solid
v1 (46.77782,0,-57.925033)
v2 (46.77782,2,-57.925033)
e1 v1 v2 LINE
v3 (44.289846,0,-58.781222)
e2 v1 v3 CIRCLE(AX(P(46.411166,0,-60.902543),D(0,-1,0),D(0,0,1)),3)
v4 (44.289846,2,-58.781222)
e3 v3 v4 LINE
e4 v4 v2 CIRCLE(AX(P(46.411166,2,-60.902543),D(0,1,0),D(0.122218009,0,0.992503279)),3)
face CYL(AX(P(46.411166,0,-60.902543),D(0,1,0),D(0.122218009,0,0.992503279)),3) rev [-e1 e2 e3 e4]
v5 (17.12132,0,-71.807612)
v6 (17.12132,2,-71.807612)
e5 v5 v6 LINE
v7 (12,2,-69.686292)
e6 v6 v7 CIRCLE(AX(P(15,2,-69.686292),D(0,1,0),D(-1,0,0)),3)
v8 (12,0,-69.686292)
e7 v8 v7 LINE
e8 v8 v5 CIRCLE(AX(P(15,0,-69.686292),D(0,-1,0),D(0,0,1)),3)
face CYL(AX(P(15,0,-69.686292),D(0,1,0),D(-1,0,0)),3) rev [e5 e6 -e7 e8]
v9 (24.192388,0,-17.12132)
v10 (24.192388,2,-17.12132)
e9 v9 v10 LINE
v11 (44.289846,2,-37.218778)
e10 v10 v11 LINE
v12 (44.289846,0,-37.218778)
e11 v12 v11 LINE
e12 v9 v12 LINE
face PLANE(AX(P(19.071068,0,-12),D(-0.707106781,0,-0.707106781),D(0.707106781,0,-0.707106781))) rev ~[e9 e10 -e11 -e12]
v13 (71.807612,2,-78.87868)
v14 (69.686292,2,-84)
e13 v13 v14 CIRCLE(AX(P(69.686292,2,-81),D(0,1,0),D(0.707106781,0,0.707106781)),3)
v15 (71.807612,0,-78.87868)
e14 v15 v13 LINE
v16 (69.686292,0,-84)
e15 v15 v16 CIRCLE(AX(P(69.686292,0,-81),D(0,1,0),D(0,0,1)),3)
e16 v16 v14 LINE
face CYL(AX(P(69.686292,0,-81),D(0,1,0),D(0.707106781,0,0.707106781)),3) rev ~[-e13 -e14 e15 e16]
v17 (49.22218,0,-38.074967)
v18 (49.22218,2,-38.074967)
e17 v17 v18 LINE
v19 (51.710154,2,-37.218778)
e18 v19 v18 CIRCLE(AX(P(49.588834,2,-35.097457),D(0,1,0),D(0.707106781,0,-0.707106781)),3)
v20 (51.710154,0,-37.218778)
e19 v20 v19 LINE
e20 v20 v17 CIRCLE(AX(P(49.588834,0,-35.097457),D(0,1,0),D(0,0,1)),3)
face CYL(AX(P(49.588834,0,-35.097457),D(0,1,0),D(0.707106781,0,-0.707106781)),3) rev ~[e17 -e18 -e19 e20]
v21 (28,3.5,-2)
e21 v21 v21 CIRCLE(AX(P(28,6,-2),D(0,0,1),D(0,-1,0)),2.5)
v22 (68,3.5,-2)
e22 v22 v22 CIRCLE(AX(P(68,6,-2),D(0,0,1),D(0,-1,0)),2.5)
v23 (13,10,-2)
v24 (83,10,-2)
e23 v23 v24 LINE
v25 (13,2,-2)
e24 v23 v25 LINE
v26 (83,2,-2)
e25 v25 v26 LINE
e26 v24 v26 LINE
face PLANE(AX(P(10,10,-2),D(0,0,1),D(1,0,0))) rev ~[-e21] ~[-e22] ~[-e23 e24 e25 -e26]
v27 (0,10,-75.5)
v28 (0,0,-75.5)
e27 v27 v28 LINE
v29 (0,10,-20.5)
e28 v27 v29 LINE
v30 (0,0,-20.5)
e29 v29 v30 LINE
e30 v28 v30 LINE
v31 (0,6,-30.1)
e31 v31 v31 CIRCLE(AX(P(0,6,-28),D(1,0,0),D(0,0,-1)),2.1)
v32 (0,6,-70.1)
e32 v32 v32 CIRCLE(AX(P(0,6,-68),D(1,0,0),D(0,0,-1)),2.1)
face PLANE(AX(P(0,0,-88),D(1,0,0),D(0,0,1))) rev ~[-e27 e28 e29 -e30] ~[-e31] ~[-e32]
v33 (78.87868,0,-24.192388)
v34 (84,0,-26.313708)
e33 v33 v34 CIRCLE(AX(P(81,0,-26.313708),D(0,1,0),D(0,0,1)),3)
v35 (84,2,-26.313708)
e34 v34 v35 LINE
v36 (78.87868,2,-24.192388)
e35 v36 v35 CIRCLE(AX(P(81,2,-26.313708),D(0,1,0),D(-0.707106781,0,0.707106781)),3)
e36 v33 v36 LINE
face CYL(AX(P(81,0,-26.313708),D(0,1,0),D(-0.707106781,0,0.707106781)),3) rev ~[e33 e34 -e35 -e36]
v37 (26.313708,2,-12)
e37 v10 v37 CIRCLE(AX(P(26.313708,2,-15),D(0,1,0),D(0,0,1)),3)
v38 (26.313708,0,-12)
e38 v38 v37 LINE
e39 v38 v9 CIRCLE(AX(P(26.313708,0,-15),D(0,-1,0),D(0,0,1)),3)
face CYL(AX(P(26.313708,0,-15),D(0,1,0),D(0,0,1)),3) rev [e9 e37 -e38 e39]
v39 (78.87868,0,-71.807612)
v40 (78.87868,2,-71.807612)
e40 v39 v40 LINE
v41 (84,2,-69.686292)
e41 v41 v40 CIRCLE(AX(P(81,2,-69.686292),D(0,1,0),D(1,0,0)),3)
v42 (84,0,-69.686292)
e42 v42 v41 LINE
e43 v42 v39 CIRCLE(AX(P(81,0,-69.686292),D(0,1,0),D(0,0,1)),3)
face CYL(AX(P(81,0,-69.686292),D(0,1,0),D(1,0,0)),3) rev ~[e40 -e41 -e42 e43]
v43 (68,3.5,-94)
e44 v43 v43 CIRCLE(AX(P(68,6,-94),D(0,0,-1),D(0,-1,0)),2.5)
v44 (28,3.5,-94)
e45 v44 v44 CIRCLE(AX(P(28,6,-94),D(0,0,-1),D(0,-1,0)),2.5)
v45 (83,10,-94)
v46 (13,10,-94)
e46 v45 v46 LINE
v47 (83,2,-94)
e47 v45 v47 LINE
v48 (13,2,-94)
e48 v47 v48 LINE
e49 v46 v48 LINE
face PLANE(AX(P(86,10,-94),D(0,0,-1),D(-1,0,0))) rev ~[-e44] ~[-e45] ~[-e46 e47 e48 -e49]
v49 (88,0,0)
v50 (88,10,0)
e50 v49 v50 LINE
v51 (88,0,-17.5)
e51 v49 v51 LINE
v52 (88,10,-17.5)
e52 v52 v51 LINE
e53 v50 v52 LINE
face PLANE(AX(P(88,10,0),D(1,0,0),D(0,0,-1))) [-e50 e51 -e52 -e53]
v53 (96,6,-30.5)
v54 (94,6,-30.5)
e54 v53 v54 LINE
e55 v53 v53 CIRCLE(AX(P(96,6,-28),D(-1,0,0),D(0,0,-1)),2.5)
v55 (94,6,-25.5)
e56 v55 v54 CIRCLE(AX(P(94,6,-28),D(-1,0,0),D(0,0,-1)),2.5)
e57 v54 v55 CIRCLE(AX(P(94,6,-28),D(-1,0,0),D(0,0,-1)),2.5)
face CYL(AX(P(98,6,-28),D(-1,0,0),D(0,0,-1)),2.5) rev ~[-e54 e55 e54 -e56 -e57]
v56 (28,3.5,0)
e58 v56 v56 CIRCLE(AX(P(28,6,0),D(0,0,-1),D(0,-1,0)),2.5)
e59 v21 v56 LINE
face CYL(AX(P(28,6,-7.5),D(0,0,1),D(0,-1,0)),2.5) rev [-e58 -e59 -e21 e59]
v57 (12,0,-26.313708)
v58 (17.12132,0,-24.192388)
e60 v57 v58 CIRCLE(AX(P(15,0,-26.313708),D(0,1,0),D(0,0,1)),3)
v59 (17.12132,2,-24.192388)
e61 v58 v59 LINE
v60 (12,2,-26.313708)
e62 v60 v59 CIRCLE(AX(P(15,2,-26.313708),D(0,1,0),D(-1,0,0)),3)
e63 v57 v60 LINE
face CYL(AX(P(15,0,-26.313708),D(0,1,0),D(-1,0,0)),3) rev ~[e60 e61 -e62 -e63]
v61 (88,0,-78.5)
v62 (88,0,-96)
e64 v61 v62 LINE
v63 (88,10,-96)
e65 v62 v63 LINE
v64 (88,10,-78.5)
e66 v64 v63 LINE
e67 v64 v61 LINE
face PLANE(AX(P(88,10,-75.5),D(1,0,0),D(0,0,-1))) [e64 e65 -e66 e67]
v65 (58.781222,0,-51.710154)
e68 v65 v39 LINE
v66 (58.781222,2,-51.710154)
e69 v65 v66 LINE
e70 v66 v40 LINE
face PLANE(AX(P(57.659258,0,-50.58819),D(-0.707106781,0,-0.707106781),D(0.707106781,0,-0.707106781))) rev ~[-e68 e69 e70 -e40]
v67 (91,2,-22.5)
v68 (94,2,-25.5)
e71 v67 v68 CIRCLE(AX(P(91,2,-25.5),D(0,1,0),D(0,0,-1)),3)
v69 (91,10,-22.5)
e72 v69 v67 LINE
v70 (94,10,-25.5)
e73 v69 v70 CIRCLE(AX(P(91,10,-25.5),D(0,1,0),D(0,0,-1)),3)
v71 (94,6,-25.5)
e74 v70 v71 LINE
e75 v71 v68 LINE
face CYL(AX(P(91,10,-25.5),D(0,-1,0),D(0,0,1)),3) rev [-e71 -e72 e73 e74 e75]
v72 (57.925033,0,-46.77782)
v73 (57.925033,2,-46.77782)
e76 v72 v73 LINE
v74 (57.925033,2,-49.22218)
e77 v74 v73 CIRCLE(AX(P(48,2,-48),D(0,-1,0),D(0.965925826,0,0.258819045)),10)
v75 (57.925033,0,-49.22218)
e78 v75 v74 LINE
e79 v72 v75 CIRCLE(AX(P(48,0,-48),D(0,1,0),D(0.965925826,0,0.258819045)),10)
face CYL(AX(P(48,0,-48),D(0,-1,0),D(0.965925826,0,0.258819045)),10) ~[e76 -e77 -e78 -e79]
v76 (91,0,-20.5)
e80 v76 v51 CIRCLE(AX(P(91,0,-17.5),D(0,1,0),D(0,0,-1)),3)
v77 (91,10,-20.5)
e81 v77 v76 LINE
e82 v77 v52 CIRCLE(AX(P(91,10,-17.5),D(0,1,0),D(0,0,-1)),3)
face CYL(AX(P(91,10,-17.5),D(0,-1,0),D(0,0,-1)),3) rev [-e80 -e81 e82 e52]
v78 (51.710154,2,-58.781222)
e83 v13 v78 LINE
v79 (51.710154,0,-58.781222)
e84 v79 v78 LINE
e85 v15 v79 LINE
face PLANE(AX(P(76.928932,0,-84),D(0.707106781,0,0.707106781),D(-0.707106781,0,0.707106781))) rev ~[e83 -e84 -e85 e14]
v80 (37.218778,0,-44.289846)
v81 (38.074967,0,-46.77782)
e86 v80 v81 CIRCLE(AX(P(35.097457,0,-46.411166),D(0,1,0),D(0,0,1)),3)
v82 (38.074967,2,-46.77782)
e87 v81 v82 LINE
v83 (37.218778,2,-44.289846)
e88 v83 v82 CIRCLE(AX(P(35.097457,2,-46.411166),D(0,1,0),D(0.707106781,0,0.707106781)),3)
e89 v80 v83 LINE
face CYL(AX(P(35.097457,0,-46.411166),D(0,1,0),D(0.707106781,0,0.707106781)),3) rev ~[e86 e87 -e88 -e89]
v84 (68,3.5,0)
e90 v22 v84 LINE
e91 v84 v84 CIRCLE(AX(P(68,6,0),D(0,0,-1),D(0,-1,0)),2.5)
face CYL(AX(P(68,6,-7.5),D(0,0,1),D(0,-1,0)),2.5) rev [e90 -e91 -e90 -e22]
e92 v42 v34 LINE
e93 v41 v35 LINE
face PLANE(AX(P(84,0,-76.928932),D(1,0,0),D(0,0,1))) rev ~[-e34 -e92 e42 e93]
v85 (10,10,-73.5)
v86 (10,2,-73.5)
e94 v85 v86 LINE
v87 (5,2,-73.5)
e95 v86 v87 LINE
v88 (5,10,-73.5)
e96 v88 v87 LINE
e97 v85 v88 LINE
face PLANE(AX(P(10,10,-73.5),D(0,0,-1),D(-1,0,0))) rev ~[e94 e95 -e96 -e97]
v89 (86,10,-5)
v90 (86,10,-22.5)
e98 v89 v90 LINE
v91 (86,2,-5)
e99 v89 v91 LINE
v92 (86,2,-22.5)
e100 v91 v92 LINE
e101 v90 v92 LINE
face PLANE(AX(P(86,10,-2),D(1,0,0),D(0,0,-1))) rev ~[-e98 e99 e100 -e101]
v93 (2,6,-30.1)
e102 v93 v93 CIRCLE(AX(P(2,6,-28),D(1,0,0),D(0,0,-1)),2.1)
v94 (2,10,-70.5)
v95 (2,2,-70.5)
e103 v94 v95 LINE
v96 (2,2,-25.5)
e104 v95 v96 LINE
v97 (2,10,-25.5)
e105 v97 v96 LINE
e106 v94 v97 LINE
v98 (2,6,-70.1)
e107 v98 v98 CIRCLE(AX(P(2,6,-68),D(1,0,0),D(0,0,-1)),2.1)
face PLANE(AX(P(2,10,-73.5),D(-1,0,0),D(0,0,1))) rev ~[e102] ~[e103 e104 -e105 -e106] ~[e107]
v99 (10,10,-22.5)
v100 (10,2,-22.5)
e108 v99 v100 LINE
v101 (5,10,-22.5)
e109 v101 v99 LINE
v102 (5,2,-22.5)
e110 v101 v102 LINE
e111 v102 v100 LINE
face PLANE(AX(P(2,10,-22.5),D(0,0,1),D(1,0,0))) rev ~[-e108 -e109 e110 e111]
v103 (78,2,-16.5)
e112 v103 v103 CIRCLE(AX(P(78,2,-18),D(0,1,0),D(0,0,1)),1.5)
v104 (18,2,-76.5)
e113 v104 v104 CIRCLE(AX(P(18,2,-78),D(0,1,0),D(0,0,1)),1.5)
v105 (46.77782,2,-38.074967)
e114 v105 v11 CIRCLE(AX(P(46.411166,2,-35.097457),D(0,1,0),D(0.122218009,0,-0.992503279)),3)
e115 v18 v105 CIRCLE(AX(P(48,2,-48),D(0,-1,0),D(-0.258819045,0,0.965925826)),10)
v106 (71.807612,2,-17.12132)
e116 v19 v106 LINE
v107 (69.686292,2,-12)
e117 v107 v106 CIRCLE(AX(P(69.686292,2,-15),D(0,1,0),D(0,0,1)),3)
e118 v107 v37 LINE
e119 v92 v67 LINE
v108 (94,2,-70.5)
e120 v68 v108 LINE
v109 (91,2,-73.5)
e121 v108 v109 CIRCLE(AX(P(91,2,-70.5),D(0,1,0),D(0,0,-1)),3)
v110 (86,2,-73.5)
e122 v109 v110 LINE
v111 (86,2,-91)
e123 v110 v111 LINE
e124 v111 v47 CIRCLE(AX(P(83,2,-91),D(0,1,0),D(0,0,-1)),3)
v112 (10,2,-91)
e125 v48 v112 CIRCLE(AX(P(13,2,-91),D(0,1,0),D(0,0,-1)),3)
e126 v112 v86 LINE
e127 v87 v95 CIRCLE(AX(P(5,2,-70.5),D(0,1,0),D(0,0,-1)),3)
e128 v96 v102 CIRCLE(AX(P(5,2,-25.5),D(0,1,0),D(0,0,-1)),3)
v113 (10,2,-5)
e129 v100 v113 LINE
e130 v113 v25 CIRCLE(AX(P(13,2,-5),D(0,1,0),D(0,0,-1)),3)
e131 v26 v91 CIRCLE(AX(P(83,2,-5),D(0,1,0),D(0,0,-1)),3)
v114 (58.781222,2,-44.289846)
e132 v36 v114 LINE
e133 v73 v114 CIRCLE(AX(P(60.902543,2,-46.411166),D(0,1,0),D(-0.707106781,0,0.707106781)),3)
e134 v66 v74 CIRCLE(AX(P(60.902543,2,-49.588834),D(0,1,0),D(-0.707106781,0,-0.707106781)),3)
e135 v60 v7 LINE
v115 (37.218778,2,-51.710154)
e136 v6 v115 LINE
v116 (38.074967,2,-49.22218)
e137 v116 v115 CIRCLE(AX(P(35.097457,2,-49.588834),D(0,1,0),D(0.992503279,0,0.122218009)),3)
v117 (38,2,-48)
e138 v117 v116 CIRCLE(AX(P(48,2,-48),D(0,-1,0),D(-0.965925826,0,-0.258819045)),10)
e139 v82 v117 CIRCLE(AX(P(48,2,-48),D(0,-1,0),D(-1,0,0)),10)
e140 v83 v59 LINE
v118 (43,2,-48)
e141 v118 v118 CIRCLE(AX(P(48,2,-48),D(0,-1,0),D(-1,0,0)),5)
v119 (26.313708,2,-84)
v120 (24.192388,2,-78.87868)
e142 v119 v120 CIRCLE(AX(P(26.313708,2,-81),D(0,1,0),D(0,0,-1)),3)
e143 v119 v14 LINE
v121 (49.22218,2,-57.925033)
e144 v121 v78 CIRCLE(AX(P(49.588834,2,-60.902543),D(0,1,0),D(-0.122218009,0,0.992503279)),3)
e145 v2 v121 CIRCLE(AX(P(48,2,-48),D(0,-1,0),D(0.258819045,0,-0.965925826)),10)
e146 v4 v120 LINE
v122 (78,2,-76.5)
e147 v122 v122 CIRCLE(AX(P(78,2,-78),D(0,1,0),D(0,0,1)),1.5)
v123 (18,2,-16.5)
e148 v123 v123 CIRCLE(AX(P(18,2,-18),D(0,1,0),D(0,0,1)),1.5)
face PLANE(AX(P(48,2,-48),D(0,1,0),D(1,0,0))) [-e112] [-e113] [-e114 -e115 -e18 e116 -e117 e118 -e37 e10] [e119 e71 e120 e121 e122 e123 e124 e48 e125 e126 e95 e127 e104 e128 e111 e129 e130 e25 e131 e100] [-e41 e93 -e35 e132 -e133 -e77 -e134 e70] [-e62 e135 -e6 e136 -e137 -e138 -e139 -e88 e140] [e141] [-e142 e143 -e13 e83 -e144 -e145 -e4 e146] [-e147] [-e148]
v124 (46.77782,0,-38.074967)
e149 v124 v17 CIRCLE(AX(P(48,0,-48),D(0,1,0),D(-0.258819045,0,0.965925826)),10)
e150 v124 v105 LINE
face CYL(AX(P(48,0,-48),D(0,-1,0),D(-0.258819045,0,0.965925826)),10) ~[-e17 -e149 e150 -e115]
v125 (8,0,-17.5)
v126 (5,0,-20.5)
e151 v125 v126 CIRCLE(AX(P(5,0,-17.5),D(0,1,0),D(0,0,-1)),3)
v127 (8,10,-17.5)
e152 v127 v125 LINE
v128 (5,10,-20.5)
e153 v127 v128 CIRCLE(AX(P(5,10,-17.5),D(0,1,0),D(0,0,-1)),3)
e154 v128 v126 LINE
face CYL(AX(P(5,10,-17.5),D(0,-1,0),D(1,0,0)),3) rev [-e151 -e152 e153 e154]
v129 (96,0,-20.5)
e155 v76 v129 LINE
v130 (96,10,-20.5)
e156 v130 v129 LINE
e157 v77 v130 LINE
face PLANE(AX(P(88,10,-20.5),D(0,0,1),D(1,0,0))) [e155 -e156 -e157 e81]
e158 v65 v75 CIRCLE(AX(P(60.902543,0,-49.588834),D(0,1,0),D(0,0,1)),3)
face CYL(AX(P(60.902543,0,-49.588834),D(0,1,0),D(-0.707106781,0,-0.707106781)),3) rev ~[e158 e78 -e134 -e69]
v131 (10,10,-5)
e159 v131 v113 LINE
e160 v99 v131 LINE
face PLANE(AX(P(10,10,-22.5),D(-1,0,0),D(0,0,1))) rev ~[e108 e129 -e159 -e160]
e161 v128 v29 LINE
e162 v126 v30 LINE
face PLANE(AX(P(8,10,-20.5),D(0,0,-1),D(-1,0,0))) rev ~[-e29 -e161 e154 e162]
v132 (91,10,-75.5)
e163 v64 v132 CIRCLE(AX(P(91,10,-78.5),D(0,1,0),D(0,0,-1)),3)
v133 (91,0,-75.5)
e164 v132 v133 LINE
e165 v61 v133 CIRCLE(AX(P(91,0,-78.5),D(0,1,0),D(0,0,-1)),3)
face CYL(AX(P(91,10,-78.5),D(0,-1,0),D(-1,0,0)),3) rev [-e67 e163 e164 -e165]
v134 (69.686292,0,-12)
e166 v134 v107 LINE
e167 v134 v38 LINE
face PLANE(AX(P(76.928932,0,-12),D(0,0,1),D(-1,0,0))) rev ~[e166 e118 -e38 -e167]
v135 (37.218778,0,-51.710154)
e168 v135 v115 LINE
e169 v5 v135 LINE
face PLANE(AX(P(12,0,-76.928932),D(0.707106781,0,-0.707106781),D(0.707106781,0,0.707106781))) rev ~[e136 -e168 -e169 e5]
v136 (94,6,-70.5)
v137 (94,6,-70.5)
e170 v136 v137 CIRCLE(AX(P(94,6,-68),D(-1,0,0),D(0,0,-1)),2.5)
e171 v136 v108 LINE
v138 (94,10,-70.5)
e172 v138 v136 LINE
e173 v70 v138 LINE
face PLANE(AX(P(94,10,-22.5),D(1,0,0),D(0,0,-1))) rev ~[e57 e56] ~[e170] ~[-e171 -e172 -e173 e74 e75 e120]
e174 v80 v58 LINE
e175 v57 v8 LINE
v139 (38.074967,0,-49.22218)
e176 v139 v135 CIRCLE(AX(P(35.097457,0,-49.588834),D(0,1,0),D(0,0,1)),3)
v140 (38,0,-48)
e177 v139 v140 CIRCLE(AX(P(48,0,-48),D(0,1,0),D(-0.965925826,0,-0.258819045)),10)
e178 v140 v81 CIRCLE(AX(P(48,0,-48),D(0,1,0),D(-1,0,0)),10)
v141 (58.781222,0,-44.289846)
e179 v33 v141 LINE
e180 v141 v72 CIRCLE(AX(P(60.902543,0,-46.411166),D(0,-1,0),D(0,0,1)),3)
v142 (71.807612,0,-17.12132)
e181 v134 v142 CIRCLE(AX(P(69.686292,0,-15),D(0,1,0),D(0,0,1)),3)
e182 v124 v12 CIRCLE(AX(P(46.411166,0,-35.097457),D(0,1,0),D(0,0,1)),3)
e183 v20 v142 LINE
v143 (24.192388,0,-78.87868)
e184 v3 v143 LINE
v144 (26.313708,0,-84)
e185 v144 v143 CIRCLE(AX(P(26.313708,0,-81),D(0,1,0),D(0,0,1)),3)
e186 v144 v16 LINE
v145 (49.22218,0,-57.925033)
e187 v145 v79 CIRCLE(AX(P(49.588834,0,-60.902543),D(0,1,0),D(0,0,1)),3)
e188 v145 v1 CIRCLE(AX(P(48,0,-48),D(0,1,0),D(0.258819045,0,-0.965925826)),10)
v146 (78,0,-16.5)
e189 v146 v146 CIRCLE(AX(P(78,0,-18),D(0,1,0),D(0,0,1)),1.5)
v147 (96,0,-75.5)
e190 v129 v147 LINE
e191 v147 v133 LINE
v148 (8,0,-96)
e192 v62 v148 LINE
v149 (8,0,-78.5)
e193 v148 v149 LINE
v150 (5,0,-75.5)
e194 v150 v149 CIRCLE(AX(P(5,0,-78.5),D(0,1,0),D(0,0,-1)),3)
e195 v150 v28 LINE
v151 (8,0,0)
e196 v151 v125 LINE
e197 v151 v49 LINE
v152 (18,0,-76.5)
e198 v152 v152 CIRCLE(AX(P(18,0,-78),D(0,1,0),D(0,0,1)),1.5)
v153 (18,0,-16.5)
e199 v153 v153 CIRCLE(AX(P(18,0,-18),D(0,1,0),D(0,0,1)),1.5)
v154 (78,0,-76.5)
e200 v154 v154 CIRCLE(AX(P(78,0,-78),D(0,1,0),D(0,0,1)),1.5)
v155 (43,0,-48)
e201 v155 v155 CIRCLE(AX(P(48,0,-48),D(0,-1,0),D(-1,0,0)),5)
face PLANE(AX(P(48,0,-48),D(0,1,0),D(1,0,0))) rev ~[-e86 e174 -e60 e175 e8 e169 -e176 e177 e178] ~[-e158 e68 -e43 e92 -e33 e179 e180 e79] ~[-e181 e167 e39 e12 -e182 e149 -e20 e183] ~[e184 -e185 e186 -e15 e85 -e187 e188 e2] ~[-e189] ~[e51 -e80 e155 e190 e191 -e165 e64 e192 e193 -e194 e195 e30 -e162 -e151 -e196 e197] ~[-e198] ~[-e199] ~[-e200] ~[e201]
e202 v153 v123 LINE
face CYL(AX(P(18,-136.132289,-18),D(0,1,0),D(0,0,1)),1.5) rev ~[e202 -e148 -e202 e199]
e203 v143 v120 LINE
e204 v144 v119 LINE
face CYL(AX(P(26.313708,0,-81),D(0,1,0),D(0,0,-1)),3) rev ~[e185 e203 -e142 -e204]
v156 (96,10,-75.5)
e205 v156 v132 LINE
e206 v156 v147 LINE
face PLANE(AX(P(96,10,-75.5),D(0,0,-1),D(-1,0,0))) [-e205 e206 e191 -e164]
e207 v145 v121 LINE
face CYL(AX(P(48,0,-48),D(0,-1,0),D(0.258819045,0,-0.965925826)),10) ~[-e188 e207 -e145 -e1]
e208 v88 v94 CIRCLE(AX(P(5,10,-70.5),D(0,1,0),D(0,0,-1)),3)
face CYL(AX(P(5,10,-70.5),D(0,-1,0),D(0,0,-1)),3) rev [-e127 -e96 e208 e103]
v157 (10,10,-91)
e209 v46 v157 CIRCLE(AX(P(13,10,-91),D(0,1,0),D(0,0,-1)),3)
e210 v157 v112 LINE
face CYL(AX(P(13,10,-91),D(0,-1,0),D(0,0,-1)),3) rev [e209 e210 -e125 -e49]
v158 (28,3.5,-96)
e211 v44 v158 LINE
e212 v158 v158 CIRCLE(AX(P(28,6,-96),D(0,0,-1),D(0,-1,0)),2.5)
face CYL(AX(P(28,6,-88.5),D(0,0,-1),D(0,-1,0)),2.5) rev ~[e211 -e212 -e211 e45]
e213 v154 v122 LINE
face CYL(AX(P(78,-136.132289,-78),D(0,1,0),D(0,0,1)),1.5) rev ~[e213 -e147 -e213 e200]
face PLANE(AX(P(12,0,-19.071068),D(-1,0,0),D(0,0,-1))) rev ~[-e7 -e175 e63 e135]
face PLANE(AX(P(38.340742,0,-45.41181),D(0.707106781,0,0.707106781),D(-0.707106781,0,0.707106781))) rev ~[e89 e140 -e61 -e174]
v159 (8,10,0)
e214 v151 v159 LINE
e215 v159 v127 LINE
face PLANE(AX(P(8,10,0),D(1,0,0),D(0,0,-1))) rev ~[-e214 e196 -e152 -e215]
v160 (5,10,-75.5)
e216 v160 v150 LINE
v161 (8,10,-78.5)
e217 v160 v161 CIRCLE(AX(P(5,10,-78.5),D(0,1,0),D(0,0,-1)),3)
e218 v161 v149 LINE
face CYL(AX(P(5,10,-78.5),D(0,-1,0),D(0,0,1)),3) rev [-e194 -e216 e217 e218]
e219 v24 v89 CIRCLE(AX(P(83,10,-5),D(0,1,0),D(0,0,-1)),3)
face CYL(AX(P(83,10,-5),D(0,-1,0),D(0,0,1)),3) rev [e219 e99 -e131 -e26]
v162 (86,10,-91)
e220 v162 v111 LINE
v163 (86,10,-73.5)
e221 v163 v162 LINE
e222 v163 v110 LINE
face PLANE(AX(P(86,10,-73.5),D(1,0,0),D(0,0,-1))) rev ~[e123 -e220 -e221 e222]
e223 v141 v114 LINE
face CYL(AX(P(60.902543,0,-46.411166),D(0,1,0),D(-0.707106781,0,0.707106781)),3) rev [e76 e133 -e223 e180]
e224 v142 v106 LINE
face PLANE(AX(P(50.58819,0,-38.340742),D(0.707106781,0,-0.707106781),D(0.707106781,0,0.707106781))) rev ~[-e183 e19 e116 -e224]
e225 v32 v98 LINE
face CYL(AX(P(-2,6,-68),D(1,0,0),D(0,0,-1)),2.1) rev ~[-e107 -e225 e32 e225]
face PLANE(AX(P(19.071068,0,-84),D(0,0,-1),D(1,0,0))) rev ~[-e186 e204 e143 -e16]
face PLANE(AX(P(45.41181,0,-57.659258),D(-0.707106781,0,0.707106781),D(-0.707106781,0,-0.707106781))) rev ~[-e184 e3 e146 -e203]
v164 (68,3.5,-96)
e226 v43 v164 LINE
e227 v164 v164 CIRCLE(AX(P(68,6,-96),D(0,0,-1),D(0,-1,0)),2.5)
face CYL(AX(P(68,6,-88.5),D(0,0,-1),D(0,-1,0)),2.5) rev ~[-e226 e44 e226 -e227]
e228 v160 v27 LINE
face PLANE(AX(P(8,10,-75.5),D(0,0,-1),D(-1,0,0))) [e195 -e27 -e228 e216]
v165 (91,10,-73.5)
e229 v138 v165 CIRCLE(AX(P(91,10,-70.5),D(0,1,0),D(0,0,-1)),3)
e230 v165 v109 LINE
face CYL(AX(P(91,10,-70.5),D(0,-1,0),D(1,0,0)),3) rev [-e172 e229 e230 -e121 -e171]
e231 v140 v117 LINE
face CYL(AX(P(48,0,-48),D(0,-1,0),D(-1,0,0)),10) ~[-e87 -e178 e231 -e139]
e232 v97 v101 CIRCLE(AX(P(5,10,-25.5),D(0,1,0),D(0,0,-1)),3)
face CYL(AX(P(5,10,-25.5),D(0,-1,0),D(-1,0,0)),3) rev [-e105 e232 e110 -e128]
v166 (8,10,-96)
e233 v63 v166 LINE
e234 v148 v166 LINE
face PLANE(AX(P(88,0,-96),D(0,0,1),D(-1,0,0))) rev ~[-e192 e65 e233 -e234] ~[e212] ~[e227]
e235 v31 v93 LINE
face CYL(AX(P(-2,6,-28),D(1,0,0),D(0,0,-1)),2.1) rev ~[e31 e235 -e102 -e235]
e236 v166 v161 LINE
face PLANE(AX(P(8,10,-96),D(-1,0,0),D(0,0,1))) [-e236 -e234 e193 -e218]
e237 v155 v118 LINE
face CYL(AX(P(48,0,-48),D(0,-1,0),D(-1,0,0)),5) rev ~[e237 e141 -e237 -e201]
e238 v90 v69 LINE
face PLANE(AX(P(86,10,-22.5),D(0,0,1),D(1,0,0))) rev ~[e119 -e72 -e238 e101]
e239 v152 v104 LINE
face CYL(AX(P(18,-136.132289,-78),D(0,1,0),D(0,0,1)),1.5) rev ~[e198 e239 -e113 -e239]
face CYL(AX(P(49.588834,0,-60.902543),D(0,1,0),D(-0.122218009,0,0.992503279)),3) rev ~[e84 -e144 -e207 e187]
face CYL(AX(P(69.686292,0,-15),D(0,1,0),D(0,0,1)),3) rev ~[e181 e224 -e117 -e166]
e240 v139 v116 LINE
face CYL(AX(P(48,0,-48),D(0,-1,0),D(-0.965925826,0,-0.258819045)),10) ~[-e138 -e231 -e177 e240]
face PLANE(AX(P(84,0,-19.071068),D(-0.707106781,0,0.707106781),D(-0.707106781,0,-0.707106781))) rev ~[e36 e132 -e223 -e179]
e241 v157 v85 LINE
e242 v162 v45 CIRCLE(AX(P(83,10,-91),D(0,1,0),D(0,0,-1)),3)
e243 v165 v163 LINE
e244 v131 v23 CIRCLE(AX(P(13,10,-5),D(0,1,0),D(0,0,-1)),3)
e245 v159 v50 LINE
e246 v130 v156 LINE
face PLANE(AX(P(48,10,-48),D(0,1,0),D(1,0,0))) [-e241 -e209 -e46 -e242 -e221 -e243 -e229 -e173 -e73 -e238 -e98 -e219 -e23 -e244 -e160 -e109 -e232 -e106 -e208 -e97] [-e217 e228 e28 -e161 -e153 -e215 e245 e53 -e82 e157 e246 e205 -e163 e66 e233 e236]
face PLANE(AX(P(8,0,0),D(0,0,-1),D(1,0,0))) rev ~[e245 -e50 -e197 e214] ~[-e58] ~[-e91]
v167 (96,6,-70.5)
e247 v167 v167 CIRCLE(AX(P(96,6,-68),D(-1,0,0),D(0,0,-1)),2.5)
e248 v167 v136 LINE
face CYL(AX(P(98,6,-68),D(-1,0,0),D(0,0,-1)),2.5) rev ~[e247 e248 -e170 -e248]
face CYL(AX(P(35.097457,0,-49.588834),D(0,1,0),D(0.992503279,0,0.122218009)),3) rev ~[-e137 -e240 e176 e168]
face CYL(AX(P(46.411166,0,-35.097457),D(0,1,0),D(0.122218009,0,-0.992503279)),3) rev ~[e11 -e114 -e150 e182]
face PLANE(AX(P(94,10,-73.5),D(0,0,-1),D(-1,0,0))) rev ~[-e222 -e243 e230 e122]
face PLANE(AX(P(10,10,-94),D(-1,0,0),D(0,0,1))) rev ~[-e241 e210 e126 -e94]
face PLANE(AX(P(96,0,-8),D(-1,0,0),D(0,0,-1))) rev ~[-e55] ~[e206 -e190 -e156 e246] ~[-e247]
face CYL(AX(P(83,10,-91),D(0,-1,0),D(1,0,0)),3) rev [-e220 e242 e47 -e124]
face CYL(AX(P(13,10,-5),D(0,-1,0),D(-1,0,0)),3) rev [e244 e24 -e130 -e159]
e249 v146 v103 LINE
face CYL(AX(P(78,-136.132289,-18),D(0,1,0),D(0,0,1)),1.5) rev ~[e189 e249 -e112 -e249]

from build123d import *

# Parameters (mm, degrees)
BOSS_EXTRUDE1_DEPTH             = 10
SKETCH2_R                       = 5
CUT_EXTRUDE1_DEPTH              = 11
FILLET1_R                       = 3
CUT_EXTRUDE4_DEPTH              = 11
CUT_EXTRUDE5_DEPTH              = 8
FILLET2_R                       = 3
F_5_0MM_DOWEL_HOLE2_AT_2_COUNT  = 2
F_5_0MM_DOWEL_HOLE2_AT_2_PITCH  = 40
TAP_DRILL_FOR_M5X0_8_TAP1_D     = 4.2
TAP_DRILL_FOR_M5X0_8_TAP1_DEPTH = 2
F_3_0MM_DOWEL_HOLE3_D           = 3
F_5_0MM_DOWEL_HOLE1_D           = 5
F_5_0MM_DOWEL_HOLE1_DEPTH       = 2


with BuildPart() as part:
    # Sketch1 → Boss-Extrude1 (new body)
    with BuildSketch(Plane(origin=(0, 0, 0), x_dir=(1, 0, 0), z_dir=(0, 1, 0))):
        Polygon((0, 88), (0, 8), (8, 0), (88, 0), (96, 8), (96, 88), (88, 96), (8, 96), align=None)
    extrude(amount=BOSS_EXTRUDE1_DEPTH)

    # Sketch2 → Cut-Extrude1 (cut, through all)
    with BuildSketch(Plane(origin=(0, 0, 0), x_dir=(-1, 0, 0), z_dir=(0, -1, 0))):
        with BuildLine():
            Line((-45.411809549, 57.659258263), (-19.071067812, 84))
            Line((-19.071067812, 84), (-76.928932188, 84))
            Line((-76.928932188, 84), (-50.588190451, 57.659258263))
            ThreePointArc((-50.588190451, 57.659258263), (-48, 58), (-45.411809549, 57.659258263))
        make_face()
        with BuildLine():
            Line((-12, 76.928932188), (-38.340741737, 50.588190451))
            ThreePointArc((-38.340741737, 50.588190451), (-38.085551386, 49.305261922), (-38, 48))
            ThreePointArc((-38, 48), (-38.085551386, 46.694738078), (-38.340741737, 45.411809549))
            Line((-38.340741737, 45.411809549), (-12, 19.071067812))
            Line((-12, 19.071067812), (-12, 76.928932188))
        make_face()
        with BuildLine():
            Line((-19.071067812, 12), (-45.411809549, 38.340741737))
            ThreePointArc((-45.411809549, 38.340741737), (-48, 38), (-50.588190451, 38.340741737))
            Line((-50.588190451, 38.340741737), (-76.928932188, 12))
            Line((-76.928932188, 12), (-19.071067812, 12))
        make_face()
        with BuildLine():
            ThreePointArc((-57.659258263, 45.411809549), (-58, 48), (-57.659258263, 50.588190451))
            Line((-57.659258263, 50.588190451), (-84, 76.928932188))
            Line((-84, 76.928932188), (-84, 19.071067812))
            Line((-84, 19.071067812), (-57.659258263, 45.411809549))
        make_face()
        with Locations((-48, 48)):
            Circle(SKETCH2_R)
    extrude(amount=-CUT_EXTRUDE1_DEPTH, mode=Mode.SUBTRACT)

    # Fillet1
    fillet1_edges = [part.edges().sort_by_distance(p)[0] for p in [
        (50.588190451, 5, -38.340741737),
        (45.411809549, 5, -38.340741737),
        (19.071067812, 5, -12),
        (76.928932188, 5, -12),
        (38.340741737, 5, -45.411809549),
        (38.340741737, 5, -50.588190451),
        (12, 5, -76.928932188),
        (12, 5, -19.071067812),
        (57.659258263, 5, -50.588190451),
        (57.659258263, 5, -45.411809549),
        (84, 5, -19.071067812),
        (84, 5, -76.928932188),
        (45.411809549, 5, -57.659258263),
        (50.588190451, 5, -57.659258263),
        (76.928932188, 5, -84),
        (19.071067812, 5, -84),
    ]]
    fillet(fillet1_edges, radius=FILLET1_R)

    # Sketch5 → Cut-Extrude4 (cut, through all)
    with BuildSketch(Plane(origin=(0, 10, 0), x_dir=(1, 0, 0), z_dir=(0, 1, 0))):
        Polygon((8, 0), (8, 20.5), (0, 20.5), (0, 8), align=None)
        Polygon((96, 8), (88, 0), (88, 20.5), (96, 20.5), align=None)
        Polygon((96, 75.5), (88, 75.5), (88, 96), (96, 88), align=None)
        Polygon((8, 96), (8, 75.5), (0, 75.5), (0, 88), align=None)
    extrude(amount=-CUT_EXTRUDE4_DEPTH, mode=Mode.SUBTRACT)

    # Sketch6 → Cut-Extrude5 (cut)
    with BuildSketch(Plane(origin=(0, 10, 0), x_dir=(1, 0, 0), z_dir=(0, 1, 0))):
        Polygon((86, 73.5), (86, 94), (10, 94), (10, 73.5), (2, 73.5), (2, 22.5), (10, 22.5), (10, 2), (86, 2), (86, 22.5), (94, 22.5), (94, 73.5), align=None)
    extrude(amount=-CUT_EXTRUDE5_DEPTH, mode=Mode.SUBTRACT)

    # Fillet2
    fillet2_edges = [part.edges().sort_by_distance(p)[0] for p in [
        (8, 5, -75.5),
        (88, 5, -75.5),
        (88, 5, -20.5),
        (8, 5, -20.5),
        (94, 6, -73.5),
        (94, 6, -22.5),
        (86, 6, -2),
        (10, 6, -2),
        (2, 6, -22.5),
        (2, 6, -73.5),
        (10, 6, -94),
        (86, 6, -94),
    ]]
    fillet(fillet2_edges, radius=FILLET2_R)

    # Sketch13 → Ø5.0mm Dowel Hole2 (revolve, cut)
    with BuildSketch(Plane(origin=(28, 6, 0), x_dir=(0, -1, 0), z_dir=(1, 0, 0))):
        Polygon((0, 0), (0, 9.002151548), (2.5, 7.5), (2.5, 0), align=None)
    f_5_0mm_dowel_hole2 = revolve(axis=Axis((28, 6, 6.35), (0, 0, -1)), mode=Mode.SUBTRACT)

    # Ø5.0mm Dowel Hole2 at 2: Ø5.0mm Dowel Hole2 ×2
    with Locations(*[(i * F_5_0MM_DOWEL_HOLE2_AT_2_PITCH, 0, 0) for i in range(1, F_5_0MM_DOWEL_HOLE2_AT_2_COUNT)]):
        add(f_5_0mm_dowel_hole2, mode=Mode.SUBTRACT)

    # Tap Drill for M5x0.8 Tap1
    with Locations(Plane.ZY):
        with Locations((-68, 6), (-28, 6)):
            Hole(TAP_DRILL_FOR_M5X0_8_TAP1_D / 2, depth=TAP_DRILL_FOR_M5X0_8_TAP1_DEPTH)

    # Mirror1: Ø5.0mm Dowel Hole2 across plane
    add(f_5_0mm_dowel_hole2.mirror(Plane.XY.offset(-48)), mode=Mode.SUBTRACT)

    # Mirror1 copy 1 sketch → Mirror1 copy 1 (revolve, cut)
    with BuildSketch(Plane(origin=(68, 6, -96), x_dir=(0, -1, 0), z_dir=(1, 0, 0))):
        Polygon((0, 0), (0, -9.002151548), (2.5, -7.5), (2.5, 0), align=None)
    revolve(axis=Axis((68, 6, -102.35), (0, 0, -1)), mode=Mode.SUBTRACT)

    # Ø3.0mm Dowel Hole3 (through all)
    with Locations(Plane(origin=(78, 0, -18), x_dir=(0, 0, -1), z_dir=(0, -1, 0))):
        with Locations((0, 0), (60, 0), (60, -60), (0, -60)):
            Hole(F_3_0MM_DOWEL_HOLE3_D / 2)

    # Ø5.0mm Dowel Hole1
    with Locations(Plane(origin=(96, 6, -68), x_dir=(0, 0, 1), z_dir=(1, 0, 0))):
        with Locations((0, 0), (40, 0)):
            Hole(F_5_0MM_DOWEL_HOLE1_D / 2, depth=F_5_0MM_DOWEL_HOLE1_DEPTH)


solid = part.part
